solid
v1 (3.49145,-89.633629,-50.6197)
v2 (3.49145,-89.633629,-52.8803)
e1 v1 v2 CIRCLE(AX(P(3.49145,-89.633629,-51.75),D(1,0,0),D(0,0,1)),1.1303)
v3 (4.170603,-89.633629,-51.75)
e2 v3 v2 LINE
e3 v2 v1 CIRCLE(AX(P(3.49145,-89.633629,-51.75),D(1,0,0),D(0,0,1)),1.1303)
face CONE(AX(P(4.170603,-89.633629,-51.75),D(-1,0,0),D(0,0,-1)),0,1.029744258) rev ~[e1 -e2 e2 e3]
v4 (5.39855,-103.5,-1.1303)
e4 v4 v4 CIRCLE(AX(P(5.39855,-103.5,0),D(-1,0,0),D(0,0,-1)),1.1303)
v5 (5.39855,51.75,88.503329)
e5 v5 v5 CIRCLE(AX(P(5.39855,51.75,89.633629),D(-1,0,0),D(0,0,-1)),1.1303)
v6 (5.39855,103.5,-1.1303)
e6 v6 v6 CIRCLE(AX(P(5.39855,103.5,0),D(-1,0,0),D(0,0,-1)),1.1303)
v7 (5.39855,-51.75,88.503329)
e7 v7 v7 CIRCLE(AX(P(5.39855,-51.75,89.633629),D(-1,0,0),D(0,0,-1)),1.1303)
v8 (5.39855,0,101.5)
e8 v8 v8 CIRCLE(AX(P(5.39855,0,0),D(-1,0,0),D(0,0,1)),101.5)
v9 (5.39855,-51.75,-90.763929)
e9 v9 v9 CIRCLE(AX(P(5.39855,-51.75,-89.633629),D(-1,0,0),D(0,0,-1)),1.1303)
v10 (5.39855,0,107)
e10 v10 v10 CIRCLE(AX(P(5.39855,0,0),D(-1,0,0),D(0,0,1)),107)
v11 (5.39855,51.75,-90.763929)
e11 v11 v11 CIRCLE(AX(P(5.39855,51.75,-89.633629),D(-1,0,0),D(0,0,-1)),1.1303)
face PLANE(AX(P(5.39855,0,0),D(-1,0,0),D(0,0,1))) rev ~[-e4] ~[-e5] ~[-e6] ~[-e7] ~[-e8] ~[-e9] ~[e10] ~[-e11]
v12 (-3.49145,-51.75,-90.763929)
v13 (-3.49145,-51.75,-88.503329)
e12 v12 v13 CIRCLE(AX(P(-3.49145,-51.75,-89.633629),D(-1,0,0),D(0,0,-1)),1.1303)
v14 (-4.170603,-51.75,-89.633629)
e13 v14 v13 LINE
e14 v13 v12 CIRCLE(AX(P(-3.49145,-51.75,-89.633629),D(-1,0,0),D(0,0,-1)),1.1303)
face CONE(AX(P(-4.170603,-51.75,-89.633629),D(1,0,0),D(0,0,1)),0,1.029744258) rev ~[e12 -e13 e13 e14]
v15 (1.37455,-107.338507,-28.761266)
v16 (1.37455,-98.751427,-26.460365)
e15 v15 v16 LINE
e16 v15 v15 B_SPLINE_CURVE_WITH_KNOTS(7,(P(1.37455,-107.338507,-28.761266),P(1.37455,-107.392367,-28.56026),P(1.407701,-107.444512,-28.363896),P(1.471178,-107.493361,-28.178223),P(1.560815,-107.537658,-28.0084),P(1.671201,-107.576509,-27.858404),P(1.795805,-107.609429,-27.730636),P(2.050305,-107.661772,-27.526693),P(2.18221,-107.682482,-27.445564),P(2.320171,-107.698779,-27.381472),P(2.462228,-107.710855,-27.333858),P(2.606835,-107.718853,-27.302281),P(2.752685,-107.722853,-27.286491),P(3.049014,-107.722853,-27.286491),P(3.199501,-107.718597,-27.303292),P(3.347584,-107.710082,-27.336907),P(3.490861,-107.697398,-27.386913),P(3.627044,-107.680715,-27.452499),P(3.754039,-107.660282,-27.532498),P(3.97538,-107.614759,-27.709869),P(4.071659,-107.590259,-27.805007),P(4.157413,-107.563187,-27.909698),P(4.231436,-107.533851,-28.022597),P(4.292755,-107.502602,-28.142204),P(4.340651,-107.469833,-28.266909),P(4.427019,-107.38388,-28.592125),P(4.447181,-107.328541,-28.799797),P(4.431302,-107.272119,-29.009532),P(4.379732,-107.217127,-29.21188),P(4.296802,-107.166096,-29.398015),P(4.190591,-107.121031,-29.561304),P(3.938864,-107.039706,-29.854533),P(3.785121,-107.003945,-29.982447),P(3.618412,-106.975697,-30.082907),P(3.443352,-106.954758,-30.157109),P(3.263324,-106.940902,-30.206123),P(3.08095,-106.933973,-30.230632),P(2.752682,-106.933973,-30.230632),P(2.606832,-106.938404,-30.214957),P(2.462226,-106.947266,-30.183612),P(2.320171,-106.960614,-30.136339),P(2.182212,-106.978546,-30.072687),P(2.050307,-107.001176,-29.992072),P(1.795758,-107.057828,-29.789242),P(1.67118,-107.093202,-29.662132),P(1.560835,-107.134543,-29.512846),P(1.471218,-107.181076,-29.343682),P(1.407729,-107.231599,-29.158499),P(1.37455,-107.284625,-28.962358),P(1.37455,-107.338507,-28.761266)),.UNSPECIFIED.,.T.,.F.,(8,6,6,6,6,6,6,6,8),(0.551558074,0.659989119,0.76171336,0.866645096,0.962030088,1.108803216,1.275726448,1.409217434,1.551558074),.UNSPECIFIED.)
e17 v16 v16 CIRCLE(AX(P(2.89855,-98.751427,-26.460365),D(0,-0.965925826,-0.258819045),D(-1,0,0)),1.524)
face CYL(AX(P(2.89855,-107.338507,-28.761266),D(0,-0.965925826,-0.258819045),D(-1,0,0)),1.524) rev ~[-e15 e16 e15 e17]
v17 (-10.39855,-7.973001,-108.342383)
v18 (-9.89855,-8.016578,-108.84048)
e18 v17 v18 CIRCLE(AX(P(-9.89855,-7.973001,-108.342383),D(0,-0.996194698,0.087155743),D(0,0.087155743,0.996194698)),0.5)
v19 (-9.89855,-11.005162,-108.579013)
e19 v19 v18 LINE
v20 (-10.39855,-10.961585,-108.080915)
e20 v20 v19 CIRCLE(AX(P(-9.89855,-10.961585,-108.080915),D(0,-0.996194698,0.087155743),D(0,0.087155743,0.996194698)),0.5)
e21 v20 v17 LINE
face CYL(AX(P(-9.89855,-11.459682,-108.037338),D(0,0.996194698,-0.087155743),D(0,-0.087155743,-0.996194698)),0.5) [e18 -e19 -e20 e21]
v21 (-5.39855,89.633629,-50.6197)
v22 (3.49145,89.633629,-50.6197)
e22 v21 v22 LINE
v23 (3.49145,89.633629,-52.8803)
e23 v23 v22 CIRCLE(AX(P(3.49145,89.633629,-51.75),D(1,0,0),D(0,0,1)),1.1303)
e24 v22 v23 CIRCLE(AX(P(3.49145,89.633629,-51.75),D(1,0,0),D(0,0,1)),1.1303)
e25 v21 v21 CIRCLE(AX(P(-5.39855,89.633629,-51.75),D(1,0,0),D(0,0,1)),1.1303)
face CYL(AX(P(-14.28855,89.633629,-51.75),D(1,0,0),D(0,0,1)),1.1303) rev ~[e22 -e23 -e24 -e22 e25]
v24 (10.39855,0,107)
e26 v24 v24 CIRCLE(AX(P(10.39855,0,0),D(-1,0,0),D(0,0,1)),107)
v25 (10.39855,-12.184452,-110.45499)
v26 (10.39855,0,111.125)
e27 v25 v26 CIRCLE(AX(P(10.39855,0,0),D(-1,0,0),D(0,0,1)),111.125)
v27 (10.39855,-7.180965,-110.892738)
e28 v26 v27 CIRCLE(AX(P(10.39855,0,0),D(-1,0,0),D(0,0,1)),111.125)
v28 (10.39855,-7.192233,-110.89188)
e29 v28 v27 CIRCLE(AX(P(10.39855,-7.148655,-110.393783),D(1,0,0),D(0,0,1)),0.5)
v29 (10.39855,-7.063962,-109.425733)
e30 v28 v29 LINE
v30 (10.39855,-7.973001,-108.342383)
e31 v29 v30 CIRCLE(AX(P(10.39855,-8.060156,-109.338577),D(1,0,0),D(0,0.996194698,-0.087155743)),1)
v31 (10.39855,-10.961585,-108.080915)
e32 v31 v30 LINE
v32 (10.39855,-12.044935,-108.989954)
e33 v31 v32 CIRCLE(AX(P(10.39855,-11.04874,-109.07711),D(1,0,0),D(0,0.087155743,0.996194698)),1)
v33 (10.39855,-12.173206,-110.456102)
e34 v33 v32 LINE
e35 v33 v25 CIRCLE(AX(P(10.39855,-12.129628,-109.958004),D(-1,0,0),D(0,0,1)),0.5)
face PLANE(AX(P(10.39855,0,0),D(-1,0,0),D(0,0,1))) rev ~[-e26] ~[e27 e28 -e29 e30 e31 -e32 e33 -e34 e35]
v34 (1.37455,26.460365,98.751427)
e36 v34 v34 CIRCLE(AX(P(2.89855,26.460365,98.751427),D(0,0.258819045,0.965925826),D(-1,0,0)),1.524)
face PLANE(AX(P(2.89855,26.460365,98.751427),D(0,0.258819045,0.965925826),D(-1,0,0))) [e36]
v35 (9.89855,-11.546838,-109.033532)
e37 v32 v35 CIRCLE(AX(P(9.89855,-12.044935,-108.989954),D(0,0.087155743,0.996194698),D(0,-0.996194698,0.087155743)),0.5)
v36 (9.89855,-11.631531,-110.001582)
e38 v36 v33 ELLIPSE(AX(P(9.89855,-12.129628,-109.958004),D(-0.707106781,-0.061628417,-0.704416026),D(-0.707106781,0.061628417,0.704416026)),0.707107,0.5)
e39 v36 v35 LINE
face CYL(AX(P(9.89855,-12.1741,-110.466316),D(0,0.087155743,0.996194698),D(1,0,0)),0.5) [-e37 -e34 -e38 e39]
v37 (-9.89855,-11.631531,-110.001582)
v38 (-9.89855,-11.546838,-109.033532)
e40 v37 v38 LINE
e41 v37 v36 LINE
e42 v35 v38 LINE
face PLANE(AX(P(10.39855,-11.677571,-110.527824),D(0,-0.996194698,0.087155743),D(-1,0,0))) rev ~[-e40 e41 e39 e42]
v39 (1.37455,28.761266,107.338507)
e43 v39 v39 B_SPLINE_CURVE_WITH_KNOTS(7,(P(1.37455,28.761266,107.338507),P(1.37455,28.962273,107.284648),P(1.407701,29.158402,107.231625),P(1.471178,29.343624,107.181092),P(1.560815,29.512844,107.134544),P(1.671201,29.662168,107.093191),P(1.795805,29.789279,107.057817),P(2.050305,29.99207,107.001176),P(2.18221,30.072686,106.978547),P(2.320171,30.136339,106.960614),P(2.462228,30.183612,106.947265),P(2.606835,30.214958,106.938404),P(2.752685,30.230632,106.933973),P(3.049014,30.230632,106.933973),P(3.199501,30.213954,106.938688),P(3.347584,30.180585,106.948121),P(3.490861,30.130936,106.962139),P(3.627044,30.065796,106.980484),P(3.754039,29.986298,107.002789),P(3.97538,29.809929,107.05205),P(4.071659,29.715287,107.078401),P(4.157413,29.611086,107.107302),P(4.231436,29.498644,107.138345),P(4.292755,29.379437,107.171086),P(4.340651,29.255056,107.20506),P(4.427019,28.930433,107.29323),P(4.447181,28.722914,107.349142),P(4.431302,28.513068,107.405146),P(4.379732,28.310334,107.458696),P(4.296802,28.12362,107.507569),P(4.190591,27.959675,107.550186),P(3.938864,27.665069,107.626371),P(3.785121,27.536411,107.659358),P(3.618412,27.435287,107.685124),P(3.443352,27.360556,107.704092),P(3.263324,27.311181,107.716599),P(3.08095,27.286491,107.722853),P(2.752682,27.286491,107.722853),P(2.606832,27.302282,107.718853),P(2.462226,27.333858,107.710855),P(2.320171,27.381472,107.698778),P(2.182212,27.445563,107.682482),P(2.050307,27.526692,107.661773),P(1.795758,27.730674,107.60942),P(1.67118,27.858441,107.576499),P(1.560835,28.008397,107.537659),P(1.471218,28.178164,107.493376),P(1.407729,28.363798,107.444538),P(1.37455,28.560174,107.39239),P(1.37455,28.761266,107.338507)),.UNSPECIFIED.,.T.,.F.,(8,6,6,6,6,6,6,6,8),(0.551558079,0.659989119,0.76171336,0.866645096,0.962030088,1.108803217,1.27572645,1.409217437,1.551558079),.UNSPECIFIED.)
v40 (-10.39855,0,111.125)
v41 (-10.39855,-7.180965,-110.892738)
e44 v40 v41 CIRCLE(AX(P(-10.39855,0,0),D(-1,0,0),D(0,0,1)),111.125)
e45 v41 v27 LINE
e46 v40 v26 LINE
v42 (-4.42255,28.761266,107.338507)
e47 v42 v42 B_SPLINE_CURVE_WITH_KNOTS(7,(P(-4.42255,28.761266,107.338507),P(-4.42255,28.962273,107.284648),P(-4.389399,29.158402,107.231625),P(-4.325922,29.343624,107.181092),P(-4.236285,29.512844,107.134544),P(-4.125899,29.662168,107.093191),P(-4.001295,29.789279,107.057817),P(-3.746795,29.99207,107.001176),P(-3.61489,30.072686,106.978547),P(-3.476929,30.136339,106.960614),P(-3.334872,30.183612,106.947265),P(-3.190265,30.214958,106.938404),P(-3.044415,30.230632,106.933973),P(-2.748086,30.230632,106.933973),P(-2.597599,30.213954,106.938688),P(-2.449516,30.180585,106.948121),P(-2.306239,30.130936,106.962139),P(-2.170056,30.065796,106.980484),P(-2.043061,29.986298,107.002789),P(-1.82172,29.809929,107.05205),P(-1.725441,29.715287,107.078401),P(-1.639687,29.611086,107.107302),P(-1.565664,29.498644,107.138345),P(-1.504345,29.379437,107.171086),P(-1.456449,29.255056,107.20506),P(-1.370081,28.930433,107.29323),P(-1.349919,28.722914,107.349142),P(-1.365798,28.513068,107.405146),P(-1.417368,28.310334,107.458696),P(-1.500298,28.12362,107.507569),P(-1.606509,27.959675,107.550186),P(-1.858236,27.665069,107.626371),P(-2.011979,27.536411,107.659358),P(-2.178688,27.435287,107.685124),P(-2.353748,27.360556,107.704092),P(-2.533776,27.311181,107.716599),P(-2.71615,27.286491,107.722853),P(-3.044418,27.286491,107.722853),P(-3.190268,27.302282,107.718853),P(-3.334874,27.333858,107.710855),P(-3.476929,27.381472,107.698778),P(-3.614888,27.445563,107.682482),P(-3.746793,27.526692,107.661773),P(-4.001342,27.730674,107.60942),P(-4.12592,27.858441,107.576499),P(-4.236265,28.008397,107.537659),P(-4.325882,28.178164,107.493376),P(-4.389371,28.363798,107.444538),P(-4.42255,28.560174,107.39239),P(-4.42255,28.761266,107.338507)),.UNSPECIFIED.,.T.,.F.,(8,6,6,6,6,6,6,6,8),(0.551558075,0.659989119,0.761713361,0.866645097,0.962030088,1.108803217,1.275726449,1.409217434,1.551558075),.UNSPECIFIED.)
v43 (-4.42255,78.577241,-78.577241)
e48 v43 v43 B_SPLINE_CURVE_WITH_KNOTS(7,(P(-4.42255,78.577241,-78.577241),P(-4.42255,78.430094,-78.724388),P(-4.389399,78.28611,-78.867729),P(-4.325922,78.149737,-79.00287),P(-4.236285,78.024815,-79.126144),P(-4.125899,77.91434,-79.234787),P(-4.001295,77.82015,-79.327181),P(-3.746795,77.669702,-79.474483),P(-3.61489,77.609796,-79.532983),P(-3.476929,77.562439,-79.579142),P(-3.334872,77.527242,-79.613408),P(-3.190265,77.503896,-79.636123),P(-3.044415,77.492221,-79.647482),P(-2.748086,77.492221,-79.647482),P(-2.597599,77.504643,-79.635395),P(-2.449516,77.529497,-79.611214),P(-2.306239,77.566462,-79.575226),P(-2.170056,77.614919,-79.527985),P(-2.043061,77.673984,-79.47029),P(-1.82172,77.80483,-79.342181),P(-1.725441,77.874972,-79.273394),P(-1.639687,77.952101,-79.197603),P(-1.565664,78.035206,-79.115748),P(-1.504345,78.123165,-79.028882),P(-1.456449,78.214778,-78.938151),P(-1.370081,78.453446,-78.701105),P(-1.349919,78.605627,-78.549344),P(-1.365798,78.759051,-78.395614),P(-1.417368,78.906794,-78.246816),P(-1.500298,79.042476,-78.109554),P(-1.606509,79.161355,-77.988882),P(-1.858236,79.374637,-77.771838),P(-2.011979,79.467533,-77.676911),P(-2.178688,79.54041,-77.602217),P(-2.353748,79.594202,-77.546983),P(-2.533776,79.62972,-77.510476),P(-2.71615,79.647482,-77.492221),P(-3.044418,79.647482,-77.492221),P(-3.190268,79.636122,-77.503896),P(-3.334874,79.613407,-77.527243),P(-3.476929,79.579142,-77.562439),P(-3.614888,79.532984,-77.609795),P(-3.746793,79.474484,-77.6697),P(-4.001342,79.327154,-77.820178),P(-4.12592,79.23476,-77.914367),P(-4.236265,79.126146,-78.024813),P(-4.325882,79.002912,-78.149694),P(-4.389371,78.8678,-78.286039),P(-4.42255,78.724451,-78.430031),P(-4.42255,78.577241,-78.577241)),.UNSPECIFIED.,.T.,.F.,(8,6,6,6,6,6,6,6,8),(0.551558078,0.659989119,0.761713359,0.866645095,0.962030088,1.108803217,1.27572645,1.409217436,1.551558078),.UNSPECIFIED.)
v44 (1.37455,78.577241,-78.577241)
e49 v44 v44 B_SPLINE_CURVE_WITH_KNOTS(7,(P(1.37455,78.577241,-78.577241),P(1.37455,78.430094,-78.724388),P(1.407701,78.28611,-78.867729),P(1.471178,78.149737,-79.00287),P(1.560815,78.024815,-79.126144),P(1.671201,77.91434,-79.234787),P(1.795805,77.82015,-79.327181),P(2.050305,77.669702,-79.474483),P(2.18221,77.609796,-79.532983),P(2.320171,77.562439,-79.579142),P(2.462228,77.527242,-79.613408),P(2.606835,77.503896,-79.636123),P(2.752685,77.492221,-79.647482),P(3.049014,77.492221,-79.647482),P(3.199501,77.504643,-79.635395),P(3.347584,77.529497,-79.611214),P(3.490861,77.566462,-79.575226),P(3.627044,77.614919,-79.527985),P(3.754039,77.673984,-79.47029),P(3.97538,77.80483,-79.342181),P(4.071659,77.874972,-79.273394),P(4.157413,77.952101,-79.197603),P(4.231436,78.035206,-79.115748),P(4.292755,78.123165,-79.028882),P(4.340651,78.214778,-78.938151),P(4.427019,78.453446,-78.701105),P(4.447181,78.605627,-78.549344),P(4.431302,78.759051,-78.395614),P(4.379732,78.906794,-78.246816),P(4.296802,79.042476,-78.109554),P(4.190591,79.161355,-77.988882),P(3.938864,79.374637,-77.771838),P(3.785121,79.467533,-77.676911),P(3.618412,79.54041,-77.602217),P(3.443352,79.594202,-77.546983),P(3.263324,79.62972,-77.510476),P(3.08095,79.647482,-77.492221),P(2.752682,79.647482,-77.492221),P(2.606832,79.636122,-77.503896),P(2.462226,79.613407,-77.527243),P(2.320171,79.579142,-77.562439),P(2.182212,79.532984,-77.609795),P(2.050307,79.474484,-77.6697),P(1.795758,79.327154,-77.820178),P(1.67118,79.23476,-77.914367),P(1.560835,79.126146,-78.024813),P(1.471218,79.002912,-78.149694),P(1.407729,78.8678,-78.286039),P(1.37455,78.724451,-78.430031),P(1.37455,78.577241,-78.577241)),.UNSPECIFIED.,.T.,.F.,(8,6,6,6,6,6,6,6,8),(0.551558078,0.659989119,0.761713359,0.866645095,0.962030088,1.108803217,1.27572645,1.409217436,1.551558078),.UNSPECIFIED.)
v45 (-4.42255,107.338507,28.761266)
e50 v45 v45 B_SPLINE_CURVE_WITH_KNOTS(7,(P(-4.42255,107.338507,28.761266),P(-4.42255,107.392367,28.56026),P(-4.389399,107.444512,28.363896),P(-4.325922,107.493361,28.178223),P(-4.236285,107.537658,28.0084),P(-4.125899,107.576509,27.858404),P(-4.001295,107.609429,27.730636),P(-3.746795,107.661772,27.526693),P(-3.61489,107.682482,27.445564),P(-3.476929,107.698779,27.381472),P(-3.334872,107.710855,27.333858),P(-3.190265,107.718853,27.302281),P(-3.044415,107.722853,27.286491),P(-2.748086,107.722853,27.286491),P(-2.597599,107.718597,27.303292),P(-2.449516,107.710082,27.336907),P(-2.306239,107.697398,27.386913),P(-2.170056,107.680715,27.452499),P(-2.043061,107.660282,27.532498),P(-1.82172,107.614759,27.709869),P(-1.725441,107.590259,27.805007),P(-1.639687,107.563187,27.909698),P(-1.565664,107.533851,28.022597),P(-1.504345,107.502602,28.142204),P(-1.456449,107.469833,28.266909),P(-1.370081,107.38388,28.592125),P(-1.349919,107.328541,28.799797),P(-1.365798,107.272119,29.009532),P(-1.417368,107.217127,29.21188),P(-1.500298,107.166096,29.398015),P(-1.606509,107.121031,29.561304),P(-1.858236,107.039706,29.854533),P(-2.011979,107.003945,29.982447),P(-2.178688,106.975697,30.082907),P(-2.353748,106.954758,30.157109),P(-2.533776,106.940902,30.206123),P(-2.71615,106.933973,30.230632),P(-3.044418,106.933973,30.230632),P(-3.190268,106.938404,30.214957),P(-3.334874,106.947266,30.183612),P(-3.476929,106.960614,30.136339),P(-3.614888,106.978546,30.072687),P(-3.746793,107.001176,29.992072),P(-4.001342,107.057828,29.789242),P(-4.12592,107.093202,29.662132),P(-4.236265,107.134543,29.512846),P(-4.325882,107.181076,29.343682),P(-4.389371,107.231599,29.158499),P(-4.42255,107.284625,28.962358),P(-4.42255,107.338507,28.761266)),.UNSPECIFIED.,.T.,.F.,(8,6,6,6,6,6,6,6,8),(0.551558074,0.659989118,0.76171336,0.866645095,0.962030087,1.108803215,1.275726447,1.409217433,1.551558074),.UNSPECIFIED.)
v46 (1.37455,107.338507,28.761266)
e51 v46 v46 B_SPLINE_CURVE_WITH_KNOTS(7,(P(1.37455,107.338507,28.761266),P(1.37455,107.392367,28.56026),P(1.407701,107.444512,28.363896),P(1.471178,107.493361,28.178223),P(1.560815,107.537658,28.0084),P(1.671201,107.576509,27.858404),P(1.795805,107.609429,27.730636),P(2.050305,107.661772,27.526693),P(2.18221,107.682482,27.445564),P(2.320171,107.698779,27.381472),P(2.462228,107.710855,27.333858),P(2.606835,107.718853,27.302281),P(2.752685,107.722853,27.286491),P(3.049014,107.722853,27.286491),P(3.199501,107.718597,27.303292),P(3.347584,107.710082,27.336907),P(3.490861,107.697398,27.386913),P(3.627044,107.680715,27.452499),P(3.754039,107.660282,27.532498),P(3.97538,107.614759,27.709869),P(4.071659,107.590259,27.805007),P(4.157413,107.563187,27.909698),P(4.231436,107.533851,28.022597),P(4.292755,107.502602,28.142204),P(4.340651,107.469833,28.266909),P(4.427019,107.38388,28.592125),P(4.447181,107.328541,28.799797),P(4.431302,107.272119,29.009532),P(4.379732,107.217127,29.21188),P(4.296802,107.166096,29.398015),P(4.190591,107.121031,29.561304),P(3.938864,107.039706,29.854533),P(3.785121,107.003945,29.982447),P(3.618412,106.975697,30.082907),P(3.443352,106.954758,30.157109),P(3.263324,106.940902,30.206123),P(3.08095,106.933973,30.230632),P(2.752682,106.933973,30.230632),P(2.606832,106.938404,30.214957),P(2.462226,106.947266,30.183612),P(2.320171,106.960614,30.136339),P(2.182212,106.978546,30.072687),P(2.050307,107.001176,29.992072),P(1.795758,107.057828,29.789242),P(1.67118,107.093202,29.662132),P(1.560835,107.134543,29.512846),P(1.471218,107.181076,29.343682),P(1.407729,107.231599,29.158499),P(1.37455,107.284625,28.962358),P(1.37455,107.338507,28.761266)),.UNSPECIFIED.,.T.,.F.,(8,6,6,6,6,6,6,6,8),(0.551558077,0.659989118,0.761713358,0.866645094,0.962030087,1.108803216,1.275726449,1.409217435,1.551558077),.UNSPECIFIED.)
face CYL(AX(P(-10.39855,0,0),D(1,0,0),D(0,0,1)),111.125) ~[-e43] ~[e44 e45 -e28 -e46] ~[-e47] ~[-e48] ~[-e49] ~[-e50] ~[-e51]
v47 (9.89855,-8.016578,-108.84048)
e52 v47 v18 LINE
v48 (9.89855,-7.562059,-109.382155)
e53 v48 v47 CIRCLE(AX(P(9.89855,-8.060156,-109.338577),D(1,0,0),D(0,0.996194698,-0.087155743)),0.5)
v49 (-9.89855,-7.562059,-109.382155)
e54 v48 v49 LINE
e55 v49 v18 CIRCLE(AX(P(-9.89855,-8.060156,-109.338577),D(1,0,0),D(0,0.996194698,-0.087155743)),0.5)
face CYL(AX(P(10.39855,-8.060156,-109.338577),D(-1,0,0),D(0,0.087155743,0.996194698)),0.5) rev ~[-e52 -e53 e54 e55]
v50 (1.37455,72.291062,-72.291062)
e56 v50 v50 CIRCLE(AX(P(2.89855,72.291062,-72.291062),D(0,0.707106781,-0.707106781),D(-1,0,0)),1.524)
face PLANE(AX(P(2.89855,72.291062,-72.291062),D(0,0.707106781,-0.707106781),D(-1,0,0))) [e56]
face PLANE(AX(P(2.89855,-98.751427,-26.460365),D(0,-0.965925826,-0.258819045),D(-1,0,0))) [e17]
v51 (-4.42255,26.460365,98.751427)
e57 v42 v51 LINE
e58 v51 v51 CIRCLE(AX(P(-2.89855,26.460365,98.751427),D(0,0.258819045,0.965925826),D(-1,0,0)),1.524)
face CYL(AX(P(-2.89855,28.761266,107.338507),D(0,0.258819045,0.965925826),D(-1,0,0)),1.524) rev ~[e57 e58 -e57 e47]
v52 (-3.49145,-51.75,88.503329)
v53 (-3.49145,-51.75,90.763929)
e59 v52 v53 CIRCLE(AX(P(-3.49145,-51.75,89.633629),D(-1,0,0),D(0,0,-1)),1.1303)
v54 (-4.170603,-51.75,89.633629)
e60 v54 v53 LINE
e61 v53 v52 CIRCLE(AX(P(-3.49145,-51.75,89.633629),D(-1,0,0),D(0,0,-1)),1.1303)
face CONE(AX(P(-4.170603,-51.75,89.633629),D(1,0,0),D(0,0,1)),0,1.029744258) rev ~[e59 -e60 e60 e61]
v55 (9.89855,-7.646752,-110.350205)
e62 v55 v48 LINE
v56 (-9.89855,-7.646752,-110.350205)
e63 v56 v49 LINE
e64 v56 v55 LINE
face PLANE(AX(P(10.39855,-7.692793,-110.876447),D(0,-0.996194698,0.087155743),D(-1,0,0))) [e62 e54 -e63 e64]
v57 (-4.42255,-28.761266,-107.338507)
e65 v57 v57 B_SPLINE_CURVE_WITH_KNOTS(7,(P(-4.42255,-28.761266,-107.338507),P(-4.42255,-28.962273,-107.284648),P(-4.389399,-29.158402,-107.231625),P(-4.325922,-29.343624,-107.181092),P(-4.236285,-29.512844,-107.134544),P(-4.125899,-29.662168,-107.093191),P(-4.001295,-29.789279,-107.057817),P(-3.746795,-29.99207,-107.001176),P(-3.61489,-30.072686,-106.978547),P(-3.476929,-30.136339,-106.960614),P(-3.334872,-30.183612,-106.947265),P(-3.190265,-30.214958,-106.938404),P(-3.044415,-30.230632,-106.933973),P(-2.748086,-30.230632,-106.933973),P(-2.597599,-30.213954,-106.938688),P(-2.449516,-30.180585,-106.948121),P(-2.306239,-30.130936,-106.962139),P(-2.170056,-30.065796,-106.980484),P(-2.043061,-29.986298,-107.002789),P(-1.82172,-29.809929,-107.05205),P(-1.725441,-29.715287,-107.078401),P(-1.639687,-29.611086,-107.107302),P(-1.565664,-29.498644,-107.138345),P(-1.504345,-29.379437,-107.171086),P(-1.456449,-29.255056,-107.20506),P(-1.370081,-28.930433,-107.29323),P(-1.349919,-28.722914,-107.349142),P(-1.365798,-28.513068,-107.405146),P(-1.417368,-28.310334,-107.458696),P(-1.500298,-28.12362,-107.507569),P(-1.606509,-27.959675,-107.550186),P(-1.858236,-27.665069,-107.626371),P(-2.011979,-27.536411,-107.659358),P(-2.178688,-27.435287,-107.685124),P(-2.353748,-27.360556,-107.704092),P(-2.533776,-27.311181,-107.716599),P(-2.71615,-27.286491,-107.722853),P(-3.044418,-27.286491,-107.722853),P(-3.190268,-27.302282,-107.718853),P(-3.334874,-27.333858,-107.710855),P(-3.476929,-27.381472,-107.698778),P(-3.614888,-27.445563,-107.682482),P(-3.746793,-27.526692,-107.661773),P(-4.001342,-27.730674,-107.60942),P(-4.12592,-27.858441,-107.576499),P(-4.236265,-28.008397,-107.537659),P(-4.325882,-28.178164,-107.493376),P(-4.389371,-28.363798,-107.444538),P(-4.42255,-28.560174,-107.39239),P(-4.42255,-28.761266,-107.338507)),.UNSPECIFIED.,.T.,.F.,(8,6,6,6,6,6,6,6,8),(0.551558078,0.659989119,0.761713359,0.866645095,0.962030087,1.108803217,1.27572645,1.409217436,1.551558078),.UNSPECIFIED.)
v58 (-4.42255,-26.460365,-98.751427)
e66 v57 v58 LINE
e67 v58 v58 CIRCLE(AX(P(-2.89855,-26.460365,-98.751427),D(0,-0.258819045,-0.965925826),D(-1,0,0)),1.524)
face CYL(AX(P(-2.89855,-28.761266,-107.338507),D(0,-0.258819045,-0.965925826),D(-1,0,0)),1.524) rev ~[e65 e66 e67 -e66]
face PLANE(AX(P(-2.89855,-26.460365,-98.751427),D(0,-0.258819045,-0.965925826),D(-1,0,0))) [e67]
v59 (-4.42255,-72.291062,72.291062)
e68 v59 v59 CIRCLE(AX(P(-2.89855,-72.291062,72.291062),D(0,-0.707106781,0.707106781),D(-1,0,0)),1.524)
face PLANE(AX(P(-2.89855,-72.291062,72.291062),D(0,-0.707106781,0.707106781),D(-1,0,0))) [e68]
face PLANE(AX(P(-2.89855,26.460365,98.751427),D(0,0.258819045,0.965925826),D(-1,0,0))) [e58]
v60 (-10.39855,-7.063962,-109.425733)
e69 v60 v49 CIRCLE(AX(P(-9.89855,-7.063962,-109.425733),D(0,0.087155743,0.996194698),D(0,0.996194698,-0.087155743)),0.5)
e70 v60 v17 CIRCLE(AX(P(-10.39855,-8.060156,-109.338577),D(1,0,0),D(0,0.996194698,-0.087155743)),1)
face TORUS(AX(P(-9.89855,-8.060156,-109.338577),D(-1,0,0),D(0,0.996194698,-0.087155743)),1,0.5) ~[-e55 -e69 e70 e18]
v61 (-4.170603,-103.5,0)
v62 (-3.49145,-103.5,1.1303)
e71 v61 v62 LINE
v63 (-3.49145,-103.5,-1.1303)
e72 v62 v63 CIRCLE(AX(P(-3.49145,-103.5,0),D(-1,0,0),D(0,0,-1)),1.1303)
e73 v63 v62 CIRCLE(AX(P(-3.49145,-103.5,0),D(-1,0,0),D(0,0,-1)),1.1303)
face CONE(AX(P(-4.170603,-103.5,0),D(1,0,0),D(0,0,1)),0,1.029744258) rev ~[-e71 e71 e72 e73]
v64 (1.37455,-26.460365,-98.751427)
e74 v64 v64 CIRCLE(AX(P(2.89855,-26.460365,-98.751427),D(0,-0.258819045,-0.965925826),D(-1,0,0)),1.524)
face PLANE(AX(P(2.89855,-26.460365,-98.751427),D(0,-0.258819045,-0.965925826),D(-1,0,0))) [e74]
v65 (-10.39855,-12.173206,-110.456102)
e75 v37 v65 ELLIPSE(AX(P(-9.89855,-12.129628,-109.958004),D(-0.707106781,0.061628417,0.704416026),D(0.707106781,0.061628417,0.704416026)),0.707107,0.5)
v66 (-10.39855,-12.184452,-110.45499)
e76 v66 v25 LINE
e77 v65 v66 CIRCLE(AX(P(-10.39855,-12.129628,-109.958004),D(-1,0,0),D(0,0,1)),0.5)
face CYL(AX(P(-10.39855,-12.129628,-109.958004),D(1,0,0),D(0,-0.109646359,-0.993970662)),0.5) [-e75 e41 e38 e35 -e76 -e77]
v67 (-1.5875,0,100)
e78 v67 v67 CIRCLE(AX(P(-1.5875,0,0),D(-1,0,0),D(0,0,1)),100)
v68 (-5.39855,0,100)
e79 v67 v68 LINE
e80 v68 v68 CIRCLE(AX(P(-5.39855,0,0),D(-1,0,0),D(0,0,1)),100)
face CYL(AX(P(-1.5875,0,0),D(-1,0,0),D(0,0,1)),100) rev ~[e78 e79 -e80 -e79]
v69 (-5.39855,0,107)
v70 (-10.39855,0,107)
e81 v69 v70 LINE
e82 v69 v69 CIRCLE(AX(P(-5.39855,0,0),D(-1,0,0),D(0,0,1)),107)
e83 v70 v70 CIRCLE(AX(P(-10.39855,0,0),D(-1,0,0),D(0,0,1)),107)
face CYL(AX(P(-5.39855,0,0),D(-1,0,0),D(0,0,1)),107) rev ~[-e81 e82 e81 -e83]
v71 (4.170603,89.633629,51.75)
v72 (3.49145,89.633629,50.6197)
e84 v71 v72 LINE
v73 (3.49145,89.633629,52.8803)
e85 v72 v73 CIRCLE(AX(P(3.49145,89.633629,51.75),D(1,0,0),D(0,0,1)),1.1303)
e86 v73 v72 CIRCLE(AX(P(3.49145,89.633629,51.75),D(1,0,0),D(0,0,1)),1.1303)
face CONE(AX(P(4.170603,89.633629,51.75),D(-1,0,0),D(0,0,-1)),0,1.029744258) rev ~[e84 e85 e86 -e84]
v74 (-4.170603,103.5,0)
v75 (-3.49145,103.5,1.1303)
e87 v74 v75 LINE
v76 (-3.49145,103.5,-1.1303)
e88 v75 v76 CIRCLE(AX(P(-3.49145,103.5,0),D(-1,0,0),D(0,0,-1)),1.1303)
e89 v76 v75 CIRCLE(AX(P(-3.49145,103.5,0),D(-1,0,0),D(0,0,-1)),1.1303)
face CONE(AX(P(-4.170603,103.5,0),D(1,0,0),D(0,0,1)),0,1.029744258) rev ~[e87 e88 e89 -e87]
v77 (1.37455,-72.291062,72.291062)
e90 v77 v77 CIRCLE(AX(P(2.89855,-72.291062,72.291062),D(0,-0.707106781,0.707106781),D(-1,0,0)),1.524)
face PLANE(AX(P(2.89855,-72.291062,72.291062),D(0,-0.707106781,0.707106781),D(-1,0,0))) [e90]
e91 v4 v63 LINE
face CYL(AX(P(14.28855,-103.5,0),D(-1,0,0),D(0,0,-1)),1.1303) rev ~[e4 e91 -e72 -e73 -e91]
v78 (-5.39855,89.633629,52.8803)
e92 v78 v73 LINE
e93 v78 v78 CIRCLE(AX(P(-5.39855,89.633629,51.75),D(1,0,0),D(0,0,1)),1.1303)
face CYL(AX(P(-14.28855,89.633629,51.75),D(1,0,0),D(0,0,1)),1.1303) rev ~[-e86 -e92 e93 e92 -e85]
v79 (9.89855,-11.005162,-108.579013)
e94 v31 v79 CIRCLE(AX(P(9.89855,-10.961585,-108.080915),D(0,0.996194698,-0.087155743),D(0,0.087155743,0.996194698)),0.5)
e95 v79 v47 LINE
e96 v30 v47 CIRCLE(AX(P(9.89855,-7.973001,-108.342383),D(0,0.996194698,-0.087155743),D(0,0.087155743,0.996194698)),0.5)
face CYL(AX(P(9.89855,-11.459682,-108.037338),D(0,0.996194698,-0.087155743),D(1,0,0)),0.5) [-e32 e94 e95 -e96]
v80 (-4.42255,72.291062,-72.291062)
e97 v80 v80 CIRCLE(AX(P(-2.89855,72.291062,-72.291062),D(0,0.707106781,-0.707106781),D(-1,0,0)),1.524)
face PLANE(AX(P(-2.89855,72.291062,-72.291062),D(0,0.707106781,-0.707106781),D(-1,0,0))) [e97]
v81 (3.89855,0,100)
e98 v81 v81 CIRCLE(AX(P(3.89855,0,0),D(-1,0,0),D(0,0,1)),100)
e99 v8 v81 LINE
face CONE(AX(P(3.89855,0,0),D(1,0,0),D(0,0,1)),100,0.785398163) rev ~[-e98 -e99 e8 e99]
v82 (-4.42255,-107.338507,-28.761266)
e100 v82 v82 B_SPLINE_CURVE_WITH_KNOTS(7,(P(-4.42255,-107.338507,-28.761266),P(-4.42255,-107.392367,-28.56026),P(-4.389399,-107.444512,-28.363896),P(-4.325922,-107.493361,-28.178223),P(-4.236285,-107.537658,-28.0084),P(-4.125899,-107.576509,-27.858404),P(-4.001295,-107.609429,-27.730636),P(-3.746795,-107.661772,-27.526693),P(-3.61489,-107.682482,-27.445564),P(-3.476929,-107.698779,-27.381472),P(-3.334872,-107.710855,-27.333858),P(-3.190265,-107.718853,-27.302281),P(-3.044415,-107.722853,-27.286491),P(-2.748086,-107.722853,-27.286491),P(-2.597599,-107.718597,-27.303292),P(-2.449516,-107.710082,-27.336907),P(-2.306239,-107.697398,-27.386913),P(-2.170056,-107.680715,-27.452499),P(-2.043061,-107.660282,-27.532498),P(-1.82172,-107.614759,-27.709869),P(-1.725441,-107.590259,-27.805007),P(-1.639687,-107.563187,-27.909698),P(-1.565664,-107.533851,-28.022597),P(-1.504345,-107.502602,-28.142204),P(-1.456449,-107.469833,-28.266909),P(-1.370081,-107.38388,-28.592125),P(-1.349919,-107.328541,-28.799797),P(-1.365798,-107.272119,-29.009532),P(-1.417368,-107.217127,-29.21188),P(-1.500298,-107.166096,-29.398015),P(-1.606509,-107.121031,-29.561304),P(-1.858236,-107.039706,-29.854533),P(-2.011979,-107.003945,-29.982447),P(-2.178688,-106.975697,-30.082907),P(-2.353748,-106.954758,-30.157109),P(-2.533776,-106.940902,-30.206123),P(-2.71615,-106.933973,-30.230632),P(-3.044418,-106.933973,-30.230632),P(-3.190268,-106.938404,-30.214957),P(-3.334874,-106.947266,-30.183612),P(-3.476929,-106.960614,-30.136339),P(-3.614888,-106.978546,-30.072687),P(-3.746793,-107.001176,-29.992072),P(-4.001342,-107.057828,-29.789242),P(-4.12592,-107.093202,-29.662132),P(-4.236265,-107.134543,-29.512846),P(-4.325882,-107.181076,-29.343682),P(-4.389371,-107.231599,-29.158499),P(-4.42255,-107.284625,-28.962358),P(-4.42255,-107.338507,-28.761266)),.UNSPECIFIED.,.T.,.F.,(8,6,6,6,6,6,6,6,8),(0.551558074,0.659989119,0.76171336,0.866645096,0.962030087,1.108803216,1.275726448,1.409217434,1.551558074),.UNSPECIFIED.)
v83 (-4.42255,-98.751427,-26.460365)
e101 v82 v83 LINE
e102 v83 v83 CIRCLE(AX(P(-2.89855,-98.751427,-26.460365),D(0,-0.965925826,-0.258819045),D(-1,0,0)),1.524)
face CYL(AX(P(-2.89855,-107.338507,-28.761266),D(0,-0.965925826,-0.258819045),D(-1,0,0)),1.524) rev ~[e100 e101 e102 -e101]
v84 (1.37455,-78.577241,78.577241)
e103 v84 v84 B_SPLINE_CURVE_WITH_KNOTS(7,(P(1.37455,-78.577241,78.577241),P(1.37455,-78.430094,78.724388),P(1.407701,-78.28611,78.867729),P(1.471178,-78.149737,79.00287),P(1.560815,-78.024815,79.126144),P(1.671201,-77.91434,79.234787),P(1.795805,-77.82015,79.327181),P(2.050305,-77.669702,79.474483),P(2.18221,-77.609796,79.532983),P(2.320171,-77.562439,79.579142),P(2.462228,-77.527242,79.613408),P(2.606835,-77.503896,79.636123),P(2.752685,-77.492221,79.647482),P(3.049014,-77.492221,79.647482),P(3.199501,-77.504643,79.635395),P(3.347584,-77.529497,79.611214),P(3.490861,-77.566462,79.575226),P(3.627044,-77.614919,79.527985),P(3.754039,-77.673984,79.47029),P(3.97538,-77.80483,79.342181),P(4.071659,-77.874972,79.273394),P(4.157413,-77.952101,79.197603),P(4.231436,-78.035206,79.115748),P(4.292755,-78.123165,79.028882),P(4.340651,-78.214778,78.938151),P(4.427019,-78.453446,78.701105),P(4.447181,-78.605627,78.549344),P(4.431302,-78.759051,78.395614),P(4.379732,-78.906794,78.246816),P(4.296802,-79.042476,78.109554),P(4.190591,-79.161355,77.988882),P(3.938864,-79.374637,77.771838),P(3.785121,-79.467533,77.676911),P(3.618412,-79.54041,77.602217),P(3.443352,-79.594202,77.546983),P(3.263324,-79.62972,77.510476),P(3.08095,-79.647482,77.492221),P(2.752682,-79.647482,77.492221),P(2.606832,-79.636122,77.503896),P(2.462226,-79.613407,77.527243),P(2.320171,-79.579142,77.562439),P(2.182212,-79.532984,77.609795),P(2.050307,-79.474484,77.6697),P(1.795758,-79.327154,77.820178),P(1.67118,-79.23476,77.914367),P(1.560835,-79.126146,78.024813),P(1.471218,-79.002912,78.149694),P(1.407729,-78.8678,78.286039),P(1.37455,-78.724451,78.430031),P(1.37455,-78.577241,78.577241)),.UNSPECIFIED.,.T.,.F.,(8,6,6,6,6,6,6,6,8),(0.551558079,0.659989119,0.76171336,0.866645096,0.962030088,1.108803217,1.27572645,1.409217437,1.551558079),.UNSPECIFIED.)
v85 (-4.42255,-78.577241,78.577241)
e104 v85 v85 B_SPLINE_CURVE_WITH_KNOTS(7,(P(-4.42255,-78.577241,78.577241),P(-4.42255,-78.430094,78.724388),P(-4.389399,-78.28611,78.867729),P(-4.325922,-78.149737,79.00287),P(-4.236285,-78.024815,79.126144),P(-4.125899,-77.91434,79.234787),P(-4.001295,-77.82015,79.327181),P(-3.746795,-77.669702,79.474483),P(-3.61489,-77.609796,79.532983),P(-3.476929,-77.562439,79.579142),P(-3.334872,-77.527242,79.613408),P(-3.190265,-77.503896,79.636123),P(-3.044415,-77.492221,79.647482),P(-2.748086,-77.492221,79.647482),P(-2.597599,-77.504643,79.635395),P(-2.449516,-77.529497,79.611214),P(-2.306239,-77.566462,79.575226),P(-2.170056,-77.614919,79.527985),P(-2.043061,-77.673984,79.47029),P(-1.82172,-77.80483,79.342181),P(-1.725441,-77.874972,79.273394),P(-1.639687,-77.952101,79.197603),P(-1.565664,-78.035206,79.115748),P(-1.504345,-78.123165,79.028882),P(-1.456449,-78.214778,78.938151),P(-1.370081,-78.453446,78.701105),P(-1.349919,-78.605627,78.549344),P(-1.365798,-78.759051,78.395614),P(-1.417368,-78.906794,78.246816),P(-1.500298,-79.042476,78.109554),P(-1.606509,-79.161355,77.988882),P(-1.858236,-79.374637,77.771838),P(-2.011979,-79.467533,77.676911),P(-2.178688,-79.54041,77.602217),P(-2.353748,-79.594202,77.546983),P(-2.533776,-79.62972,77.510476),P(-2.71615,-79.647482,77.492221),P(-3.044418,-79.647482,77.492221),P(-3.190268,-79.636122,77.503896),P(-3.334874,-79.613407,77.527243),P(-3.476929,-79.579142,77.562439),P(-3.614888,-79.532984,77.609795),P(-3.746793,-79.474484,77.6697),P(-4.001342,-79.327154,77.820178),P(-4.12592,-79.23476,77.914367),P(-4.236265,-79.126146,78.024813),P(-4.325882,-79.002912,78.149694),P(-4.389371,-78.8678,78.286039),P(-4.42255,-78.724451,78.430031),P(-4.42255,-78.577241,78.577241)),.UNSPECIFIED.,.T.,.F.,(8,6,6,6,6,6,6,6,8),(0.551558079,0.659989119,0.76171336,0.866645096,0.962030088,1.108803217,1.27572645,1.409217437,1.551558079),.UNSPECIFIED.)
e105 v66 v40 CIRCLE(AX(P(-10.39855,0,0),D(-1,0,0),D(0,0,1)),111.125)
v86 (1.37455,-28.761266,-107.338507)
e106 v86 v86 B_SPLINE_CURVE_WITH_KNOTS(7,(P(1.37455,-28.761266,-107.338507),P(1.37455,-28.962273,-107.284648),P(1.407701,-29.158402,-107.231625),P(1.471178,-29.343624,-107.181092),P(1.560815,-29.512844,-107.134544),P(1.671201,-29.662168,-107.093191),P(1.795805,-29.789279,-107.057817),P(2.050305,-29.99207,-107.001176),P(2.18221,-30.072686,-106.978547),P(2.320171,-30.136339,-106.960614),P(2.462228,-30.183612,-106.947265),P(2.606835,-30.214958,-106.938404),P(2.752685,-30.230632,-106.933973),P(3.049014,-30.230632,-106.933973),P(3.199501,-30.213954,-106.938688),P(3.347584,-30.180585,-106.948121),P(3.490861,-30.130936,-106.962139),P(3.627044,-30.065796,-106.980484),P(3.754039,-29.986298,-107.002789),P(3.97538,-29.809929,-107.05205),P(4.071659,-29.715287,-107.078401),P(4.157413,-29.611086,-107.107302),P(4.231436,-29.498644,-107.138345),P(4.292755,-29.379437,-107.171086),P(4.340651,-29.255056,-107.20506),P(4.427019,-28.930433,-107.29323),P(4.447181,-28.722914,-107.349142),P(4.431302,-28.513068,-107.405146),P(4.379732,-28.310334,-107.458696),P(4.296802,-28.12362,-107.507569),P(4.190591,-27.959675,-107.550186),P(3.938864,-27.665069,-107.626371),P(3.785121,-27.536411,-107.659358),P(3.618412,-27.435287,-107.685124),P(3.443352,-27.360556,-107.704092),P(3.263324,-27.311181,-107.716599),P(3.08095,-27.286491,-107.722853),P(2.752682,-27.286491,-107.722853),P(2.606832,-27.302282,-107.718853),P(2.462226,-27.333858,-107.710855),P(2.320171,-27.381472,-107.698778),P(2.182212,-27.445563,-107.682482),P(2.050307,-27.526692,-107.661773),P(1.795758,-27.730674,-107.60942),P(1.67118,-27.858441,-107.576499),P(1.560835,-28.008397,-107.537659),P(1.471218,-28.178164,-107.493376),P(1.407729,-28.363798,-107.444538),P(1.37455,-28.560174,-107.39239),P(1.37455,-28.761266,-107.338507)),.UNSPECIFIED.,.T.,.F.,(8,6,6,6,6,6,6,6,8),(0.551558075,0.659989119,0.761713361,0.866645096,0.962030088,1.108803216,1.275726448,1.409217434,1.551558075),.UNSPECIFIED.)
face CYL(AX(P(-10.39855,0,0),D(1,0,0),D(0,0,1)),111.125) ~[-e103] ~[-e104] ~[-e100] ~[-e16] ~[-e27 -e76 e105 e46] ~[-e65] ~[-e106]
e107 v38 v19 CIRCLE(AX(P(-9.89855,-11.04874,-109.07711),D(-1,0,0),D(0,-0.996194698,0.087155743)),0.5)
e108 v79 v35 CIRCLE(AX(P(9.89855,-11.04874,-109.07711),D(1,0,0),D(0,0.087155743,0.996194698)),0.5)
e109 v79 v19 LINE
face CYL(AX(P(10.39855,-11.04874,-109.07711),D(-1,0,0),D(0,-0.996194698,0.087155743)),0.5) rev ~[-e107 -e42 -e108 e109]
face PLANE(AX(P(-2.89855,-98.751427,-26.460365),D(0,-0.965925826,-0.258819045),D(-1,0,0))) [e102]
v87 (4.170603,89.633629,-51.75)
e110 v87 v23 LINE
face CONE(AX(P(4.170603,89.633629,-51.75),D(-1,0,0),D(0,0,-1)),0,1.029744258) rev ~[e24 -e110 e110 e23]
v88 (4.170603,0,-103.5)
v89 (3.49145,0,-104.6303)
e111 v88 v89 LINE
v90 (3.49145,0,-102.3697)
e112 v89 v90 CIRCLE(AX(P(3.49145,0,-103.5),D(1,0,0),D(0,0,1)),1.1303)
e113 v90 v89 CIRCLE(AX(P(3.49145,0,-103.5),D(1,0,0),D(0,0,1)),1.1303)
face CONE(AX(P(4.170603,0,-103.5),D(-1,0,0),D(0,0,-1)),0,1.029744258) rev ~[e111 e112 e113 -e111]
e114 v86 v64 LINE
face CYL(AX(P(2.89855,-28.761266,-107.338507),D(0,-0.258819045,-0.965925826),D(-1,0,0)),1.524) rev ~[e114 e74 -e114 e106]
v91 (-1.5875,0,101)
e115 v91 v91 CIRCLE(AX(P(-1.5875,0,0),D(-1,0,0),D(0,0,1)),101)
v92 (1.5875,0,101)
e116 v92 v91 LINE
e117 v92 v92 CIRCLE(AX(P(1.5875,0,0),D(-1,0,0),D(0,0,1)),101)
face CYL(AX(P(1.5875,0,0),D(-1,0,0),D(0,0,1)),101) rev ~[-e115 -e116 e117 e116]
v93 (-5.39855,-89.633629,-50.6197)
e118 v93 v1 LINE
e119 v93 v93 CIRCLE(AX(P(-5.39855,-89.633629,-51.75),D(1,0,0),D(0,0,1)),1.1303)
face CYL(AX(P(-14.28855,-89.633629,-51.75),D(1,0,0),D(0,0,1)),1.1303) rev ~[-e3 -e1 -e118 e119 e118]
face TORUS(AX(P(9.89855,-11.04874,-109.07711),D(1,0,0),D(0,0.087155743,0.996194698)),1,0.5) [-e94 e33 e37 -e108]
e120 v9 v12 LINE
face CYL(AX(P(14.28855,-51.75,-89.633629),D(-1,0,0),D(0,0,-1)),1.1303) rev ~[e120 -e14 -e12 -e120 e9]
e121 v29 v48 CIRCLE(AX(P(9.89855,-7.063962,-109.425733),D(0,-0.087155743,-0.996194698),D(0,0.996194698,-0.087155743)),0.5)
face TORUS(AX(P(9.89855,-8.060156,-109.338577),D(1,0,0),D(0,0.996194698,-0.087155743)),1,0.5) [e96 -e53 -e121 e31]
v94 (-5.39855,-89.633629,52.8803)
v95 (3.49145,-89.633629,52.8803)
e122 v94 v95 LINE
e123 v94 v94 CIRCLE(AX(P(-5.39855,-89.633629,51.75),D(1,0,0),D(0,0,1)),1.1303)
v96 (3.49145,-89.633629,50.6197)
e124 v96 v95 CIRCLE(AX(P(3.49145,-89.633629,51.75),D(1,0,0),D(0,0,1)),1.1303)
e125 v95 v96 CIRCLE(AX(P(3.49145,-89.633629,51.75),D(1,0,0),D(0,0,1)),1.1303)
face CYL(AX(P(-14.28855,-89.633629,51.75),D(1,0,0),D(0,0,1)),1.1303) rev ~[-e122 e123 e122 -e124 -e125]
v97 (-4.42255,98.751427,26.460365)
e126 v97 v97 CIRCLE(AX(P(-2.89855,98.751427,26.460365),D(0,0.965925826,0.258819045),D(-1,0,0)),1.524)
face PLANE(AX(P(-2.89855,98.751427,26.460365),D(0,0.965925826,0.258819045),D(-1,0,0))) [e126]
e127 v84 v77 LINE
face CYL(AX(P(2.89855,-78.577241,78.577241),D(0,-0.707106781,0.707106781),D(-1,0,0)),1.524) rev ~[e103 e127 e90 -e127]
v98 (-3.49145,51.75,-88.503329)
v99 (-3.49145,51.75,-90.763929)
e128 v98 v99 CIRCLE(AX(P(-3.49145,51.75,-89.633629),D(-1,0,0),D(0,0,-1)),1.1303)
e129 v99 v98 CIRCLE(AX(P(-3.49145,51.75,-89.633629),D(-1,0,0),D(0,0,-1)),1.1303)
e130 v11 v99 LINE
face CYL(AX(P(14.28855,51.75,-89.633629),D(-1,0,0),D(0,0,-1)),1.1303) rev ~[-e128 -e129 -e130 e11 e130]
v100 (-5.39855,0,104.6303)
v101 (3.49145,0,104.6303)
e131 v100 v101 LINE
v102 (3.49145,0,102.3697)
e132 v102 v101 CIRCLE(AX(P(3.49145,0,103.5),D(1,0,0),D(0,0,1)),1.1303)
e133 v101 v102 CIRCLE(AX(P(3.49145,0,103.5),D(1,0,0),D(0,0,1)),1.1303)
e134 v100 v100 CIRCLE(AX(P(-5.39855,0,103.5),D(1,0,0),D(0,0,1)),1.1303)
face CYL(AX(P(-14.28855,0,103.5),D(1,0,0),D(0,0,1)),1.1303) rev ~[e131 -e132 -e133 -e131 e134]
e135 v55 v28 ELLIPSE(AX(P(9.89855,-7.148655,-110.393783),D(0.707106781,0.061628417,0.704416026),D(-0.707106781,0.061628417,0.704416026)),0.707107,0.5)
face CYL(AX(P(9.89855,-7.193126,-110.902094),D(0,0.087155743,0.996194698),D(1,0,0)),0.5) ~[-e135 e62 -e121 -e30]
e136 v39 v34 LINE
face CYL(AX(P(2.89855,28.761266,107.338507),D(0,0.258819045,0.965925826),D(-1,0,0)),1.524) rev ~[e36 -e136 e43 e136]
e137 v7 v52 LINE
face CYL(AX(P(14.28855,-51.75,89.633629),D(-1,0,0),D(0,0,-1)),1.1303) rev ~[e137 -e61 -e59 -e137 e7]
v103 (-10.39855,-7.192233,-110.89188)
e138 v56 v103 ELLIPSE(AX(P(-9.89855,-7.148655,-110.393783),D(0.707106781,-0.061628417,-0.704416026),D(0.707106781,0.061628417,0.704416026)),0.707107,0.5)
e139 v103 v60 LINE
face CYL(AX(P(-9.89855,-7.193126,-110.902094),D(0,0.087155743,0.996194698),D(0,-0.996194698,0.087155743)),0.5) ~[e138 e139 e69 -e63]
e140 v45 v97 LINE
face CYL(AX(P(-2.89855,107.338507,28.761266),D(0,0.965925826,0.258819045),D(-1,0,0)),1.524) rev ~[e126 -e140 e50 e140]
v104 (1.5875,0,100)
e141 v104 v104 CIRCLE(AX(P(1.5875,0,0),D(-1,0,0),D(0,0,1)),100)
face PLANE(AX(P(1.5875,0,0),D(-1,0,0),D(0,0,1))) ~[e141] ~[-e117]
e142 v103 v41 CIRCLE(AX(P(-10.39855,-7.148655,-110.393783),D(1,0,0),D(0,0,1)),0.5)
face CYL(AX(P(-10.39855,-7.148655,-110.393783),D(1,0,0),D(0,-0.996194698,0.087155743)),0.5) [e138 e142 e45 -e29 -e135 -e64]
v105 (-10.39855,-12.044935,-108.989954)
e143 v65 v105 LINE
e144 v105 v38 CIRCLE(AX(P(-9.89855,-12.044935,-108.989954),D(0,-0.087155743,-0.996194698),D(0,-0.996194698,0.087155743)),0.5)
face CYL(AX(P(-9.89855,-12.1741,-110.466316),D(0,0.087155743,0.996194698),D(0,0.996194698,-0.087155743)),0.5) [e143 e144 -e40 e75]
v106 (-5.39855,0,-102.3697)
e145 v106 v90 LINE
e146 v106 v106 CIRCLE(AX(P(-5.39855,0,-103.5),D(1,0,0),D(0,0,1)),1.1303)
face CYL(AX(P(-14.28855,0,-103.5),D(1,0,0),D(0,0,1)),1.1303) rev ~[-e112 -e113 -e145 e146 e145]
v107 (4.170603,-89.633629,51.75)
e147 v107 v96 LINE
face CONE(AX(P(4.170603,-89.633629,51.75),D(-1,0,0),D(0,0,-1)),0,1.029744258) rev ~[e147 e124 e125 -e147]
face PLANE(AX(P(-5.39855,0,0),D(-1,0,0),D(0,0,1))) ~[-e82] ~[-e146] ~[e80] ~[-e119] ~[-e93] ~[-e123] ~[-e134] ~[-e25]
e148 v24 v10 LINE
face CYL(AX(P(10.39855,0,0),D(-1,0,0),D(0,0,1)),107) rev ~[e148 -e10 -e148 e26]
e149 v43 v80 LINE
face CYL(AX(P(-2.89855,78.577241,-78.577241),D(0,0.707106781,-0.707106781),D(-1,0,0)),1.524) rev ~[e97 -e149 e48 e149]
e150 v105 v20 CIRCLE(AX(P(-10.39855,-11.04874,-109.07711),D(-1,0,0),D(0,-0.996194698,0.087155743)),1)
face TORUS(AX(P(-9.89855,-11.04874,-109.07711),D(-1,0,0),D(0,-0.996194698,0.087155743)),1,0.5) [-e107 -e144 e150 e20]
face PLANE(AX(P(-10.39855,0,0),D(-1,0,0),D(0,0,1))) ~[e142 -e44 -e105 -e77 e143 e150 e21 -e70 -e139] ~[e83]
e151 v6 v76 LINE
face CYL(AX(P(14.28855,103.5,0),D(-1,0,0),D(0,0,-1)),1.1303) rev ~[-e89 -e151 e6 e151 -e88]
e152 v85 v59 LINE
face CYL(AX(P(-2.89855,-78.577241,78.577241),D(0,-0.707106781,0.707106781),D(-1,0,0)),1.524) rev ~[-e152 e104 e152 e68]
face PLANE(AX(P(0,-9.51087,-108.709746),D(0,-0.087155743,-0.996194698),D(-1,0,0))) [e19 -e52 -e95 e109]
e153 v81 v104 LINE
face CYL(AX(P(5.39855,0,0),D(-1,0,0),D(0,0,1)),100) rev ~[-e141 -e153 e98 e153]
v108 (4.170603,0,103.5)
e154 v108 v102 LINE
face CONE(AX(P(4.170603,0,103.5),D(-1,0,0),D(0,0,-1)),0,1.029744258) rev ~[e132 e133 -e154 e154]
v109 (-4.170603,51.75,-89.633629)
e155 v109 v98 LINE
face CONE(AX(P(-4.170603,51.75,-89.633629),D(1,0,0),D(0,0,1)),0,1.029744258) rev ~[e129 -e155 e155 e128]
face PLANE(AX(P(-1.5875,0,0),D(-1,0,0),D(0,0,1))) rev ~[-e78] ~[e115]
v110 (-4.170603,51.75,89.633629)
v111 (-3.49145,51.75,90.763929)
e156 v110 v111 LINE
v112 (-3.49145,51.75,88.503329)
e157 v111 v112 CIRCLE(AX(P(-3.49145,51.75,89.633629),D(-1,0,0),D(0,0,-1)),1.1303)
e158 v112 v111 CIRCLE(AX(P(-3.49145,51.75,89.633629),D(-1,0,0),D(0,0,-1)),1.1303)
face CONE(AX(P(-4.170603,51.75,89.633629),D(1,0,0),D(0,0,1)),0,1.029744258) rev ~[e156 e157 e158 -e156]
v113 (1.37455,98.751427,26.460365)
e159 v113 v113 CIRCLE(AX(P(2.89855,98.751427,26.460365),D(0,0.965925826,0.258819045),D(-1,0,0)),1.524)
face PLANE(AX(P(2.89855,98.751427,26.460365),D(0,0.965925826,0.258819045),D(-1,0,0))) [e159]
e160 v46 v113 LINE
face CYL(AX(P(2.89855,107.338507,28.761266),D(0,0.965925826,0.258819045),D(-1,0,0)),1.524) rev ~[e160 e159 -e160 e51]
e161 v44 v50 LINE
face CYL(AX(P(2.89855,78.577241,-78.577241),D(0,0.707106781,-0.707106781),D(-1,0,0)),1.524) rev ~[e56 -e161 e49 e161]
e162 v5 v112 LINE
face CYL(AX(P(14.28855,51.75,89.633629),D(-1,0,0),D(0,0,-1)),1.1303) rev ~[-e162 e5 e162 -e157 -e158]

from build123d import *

# Parameters (mm, degrees)
CHAMFER1_SIZE                 = 1.5
TAP_DRILL_FOR_4_40_TAP1_D     = 2.2606
TAP_DRILL_FOR_4_40_TAP1_DEPTH = 8.89
TAP_DRILL_FOR_4_40_TAP1_TIP   = 0.679152758
TAP_DRILL_FOR_4_40_TAP2_D     = 2.2606
TAP_DRILL_FOR_4_40_TAP2_DEPTH = 8.89
TAP_DRILL_FOR_4_40_TAP2_TIP   = 0.679152758
SKETCH8_R                     = 1.524
CUT_EXTRUDE1_DEPTH            = 8.89
CIRPATTERN1_COUNT             = 6
SKETCH12_W                    = 20.7971
SKETCH12_H                    = 4
CUT_EXTRUDE3_DEPTH            = 2
FILLET1_R                     = 0.5


with BuildPart() as part:
    # Sketch3 → Revolve1 (revolve)
    with BuildSketch(Plane(origin=(0, 0, 0), x_dir=(1, 0, 0), z_dir=(0, 1, 0))):
        Polygon((-10.39855, -111.125), (10.39855, -111.125), (10.39855, -107), (5.39855, -107), (5.39855, -100), (1.5875, -100), (1.5875, -101), (-1.5875, -101), (-1.5875, -100), (-5.39855, -100), (-5.39855, -107), (-10.39855, -107), align=None)
    revolve(axis=Axis((0, 0, 0), (-1, 0, 0)))

    # Chamfer1
    chamfer1_edges = [part.edges().sort_by_distance(p)[0] for p in [
        (5.39855, 0, -100),
    ]]
    chamfer(chamfer1_edges, length=CHAMFER1_SIZE)

    # Tap Drill for #4-40 Tap1
    with Locations(Plane(origin=(5.39855, -103.5, 0), x_dir=(0, 0, 1), z_dir=(1, 0, 0))):
        with Locations((0, 0), (89.633629292, -51.75), (-89.633629292, -51.75), (-89.633629292, -155.25), (0, -207), (89.633629292, -155.25)):
            Hole(TAP_DRILL_FOR_4_40_TAP1_D / 2, depth=TAP_DRILL_FOR_4_40_TAP1_DEPTH)
            with Locations((0, 0, -(TAP_DRILL_FOR_4_40_TAP1_DEPTH + TAP_DRILL_FOR_4_40_TAP1_TIP / 2))):  # 118° drill point
                Cone(0, TAP_DRILL_FOR_4_40_TAP1_D / 2, TAP_DRILL_FOR_4_40_TAP1_TIP, mode=Mode.SUBTRACT)

    # Tap Drill for #4-40 Tap2
    with Locations(Plane(origin=(-5.39855, -89.633629292, 51.75), x_dir=(0, 0, -1), z_dir=(-1, 0, 0))):
        with Locations((0, 0), (-51.75, -89.633629292), (0, -179.267258584), (103.5, -179.267258584), (155.25, -89.633629292), (103.5, 0)):
            Hole(TAP_DRILL_FOR_4_40_TAP2_D / 2, depth=TAP_DRILL_FOR_4_40_TAP2_DEPTH)
            with Locations((0, 0, -(TAP_DRILL_FOR_4_40_TAP2_DEPTH + TAP_DRILL_FOR_4_40_TAP2_TIP / 2))):  # 118° drill point
                Cone(0, TAP_DRILL_FOR_4_40_TAP2_D / 2, TAP_DRILL_FOR_4_40_TAP2_TIP, mode=Mode.SUBTRACT)

    # Sketch8 → Cut-Extrude1 (cut)
    with BuildSketch(Plane(origin=(0, 107.338507446, 28.761266387), x_dir=(-1, 0, 0), z_dir=(0, 0.9659258262890681, 0.25881904510252135))):
        with Locations((-2.89855, 0)):
            Circle(SKETCH8_R)
        with Locations((2.89855, 0)):
            Circle(SKETCH8_R)
    cut_extrude1 = extrude(amount=-CUT_EXTRUDE1_DEPTH, mode=Mode.SUBTRACT)

    # CirPattern1: Cut-Extrude1 ×6 about axis
    cirpattern1_axis = Axis((-10.39855, 0, 0), (1, 0, 0))
    for i in range(1, CIRPATTERN1_COUNT):
        add(cut_extrude1.rotate(cirpattern1_axis, i * 360 / CIRPATTERN1_COUNT), mode=Mode.SUBTRACT)

    # Sketch12 → Cut-Extrude3 (cut)
    with BuildSketch(Plane(origin=(10.39855, -9.685181913, -110.702135825), x_dir=(-1, 0, 0), z_dir=(0, -0.08715574274765833, -0.9961946980917457))):
        with Locations((10.39855, 0)):
            Rectangle(SKETCH12_W, SKETCH12_H)
    extrude(amount=-CUT_EXTRUDE3_DEPTH, mode=Mode.SUBTRACT)

    # Fillet1
    fillet1_edges = [part.edges().sort_by_distance(p)[0] for p in [
        (10.39855, -7.604852407, -109.871287255),
        (-10.39855, -7.604852407, -109.871287255),
        (10.39855, -9.510870427, -108.709746429),
        (-10.39855, -9.510870427, -108.709746429),
        (0, -11.676002575, -110.509893624),
        (10.39855, -11.589631199, -109.522664284),
        (0, -11.503259824, -108.535434944),
        (-10.39855, -11.589631199, -109.522664284),
        (0, -7.691223782, -110.858516595),
        (0, -7.518481031, -108.884057915),
    ]]
    fillet(fillet1_edges, radius=FILLET1_R)


solid = part.part
